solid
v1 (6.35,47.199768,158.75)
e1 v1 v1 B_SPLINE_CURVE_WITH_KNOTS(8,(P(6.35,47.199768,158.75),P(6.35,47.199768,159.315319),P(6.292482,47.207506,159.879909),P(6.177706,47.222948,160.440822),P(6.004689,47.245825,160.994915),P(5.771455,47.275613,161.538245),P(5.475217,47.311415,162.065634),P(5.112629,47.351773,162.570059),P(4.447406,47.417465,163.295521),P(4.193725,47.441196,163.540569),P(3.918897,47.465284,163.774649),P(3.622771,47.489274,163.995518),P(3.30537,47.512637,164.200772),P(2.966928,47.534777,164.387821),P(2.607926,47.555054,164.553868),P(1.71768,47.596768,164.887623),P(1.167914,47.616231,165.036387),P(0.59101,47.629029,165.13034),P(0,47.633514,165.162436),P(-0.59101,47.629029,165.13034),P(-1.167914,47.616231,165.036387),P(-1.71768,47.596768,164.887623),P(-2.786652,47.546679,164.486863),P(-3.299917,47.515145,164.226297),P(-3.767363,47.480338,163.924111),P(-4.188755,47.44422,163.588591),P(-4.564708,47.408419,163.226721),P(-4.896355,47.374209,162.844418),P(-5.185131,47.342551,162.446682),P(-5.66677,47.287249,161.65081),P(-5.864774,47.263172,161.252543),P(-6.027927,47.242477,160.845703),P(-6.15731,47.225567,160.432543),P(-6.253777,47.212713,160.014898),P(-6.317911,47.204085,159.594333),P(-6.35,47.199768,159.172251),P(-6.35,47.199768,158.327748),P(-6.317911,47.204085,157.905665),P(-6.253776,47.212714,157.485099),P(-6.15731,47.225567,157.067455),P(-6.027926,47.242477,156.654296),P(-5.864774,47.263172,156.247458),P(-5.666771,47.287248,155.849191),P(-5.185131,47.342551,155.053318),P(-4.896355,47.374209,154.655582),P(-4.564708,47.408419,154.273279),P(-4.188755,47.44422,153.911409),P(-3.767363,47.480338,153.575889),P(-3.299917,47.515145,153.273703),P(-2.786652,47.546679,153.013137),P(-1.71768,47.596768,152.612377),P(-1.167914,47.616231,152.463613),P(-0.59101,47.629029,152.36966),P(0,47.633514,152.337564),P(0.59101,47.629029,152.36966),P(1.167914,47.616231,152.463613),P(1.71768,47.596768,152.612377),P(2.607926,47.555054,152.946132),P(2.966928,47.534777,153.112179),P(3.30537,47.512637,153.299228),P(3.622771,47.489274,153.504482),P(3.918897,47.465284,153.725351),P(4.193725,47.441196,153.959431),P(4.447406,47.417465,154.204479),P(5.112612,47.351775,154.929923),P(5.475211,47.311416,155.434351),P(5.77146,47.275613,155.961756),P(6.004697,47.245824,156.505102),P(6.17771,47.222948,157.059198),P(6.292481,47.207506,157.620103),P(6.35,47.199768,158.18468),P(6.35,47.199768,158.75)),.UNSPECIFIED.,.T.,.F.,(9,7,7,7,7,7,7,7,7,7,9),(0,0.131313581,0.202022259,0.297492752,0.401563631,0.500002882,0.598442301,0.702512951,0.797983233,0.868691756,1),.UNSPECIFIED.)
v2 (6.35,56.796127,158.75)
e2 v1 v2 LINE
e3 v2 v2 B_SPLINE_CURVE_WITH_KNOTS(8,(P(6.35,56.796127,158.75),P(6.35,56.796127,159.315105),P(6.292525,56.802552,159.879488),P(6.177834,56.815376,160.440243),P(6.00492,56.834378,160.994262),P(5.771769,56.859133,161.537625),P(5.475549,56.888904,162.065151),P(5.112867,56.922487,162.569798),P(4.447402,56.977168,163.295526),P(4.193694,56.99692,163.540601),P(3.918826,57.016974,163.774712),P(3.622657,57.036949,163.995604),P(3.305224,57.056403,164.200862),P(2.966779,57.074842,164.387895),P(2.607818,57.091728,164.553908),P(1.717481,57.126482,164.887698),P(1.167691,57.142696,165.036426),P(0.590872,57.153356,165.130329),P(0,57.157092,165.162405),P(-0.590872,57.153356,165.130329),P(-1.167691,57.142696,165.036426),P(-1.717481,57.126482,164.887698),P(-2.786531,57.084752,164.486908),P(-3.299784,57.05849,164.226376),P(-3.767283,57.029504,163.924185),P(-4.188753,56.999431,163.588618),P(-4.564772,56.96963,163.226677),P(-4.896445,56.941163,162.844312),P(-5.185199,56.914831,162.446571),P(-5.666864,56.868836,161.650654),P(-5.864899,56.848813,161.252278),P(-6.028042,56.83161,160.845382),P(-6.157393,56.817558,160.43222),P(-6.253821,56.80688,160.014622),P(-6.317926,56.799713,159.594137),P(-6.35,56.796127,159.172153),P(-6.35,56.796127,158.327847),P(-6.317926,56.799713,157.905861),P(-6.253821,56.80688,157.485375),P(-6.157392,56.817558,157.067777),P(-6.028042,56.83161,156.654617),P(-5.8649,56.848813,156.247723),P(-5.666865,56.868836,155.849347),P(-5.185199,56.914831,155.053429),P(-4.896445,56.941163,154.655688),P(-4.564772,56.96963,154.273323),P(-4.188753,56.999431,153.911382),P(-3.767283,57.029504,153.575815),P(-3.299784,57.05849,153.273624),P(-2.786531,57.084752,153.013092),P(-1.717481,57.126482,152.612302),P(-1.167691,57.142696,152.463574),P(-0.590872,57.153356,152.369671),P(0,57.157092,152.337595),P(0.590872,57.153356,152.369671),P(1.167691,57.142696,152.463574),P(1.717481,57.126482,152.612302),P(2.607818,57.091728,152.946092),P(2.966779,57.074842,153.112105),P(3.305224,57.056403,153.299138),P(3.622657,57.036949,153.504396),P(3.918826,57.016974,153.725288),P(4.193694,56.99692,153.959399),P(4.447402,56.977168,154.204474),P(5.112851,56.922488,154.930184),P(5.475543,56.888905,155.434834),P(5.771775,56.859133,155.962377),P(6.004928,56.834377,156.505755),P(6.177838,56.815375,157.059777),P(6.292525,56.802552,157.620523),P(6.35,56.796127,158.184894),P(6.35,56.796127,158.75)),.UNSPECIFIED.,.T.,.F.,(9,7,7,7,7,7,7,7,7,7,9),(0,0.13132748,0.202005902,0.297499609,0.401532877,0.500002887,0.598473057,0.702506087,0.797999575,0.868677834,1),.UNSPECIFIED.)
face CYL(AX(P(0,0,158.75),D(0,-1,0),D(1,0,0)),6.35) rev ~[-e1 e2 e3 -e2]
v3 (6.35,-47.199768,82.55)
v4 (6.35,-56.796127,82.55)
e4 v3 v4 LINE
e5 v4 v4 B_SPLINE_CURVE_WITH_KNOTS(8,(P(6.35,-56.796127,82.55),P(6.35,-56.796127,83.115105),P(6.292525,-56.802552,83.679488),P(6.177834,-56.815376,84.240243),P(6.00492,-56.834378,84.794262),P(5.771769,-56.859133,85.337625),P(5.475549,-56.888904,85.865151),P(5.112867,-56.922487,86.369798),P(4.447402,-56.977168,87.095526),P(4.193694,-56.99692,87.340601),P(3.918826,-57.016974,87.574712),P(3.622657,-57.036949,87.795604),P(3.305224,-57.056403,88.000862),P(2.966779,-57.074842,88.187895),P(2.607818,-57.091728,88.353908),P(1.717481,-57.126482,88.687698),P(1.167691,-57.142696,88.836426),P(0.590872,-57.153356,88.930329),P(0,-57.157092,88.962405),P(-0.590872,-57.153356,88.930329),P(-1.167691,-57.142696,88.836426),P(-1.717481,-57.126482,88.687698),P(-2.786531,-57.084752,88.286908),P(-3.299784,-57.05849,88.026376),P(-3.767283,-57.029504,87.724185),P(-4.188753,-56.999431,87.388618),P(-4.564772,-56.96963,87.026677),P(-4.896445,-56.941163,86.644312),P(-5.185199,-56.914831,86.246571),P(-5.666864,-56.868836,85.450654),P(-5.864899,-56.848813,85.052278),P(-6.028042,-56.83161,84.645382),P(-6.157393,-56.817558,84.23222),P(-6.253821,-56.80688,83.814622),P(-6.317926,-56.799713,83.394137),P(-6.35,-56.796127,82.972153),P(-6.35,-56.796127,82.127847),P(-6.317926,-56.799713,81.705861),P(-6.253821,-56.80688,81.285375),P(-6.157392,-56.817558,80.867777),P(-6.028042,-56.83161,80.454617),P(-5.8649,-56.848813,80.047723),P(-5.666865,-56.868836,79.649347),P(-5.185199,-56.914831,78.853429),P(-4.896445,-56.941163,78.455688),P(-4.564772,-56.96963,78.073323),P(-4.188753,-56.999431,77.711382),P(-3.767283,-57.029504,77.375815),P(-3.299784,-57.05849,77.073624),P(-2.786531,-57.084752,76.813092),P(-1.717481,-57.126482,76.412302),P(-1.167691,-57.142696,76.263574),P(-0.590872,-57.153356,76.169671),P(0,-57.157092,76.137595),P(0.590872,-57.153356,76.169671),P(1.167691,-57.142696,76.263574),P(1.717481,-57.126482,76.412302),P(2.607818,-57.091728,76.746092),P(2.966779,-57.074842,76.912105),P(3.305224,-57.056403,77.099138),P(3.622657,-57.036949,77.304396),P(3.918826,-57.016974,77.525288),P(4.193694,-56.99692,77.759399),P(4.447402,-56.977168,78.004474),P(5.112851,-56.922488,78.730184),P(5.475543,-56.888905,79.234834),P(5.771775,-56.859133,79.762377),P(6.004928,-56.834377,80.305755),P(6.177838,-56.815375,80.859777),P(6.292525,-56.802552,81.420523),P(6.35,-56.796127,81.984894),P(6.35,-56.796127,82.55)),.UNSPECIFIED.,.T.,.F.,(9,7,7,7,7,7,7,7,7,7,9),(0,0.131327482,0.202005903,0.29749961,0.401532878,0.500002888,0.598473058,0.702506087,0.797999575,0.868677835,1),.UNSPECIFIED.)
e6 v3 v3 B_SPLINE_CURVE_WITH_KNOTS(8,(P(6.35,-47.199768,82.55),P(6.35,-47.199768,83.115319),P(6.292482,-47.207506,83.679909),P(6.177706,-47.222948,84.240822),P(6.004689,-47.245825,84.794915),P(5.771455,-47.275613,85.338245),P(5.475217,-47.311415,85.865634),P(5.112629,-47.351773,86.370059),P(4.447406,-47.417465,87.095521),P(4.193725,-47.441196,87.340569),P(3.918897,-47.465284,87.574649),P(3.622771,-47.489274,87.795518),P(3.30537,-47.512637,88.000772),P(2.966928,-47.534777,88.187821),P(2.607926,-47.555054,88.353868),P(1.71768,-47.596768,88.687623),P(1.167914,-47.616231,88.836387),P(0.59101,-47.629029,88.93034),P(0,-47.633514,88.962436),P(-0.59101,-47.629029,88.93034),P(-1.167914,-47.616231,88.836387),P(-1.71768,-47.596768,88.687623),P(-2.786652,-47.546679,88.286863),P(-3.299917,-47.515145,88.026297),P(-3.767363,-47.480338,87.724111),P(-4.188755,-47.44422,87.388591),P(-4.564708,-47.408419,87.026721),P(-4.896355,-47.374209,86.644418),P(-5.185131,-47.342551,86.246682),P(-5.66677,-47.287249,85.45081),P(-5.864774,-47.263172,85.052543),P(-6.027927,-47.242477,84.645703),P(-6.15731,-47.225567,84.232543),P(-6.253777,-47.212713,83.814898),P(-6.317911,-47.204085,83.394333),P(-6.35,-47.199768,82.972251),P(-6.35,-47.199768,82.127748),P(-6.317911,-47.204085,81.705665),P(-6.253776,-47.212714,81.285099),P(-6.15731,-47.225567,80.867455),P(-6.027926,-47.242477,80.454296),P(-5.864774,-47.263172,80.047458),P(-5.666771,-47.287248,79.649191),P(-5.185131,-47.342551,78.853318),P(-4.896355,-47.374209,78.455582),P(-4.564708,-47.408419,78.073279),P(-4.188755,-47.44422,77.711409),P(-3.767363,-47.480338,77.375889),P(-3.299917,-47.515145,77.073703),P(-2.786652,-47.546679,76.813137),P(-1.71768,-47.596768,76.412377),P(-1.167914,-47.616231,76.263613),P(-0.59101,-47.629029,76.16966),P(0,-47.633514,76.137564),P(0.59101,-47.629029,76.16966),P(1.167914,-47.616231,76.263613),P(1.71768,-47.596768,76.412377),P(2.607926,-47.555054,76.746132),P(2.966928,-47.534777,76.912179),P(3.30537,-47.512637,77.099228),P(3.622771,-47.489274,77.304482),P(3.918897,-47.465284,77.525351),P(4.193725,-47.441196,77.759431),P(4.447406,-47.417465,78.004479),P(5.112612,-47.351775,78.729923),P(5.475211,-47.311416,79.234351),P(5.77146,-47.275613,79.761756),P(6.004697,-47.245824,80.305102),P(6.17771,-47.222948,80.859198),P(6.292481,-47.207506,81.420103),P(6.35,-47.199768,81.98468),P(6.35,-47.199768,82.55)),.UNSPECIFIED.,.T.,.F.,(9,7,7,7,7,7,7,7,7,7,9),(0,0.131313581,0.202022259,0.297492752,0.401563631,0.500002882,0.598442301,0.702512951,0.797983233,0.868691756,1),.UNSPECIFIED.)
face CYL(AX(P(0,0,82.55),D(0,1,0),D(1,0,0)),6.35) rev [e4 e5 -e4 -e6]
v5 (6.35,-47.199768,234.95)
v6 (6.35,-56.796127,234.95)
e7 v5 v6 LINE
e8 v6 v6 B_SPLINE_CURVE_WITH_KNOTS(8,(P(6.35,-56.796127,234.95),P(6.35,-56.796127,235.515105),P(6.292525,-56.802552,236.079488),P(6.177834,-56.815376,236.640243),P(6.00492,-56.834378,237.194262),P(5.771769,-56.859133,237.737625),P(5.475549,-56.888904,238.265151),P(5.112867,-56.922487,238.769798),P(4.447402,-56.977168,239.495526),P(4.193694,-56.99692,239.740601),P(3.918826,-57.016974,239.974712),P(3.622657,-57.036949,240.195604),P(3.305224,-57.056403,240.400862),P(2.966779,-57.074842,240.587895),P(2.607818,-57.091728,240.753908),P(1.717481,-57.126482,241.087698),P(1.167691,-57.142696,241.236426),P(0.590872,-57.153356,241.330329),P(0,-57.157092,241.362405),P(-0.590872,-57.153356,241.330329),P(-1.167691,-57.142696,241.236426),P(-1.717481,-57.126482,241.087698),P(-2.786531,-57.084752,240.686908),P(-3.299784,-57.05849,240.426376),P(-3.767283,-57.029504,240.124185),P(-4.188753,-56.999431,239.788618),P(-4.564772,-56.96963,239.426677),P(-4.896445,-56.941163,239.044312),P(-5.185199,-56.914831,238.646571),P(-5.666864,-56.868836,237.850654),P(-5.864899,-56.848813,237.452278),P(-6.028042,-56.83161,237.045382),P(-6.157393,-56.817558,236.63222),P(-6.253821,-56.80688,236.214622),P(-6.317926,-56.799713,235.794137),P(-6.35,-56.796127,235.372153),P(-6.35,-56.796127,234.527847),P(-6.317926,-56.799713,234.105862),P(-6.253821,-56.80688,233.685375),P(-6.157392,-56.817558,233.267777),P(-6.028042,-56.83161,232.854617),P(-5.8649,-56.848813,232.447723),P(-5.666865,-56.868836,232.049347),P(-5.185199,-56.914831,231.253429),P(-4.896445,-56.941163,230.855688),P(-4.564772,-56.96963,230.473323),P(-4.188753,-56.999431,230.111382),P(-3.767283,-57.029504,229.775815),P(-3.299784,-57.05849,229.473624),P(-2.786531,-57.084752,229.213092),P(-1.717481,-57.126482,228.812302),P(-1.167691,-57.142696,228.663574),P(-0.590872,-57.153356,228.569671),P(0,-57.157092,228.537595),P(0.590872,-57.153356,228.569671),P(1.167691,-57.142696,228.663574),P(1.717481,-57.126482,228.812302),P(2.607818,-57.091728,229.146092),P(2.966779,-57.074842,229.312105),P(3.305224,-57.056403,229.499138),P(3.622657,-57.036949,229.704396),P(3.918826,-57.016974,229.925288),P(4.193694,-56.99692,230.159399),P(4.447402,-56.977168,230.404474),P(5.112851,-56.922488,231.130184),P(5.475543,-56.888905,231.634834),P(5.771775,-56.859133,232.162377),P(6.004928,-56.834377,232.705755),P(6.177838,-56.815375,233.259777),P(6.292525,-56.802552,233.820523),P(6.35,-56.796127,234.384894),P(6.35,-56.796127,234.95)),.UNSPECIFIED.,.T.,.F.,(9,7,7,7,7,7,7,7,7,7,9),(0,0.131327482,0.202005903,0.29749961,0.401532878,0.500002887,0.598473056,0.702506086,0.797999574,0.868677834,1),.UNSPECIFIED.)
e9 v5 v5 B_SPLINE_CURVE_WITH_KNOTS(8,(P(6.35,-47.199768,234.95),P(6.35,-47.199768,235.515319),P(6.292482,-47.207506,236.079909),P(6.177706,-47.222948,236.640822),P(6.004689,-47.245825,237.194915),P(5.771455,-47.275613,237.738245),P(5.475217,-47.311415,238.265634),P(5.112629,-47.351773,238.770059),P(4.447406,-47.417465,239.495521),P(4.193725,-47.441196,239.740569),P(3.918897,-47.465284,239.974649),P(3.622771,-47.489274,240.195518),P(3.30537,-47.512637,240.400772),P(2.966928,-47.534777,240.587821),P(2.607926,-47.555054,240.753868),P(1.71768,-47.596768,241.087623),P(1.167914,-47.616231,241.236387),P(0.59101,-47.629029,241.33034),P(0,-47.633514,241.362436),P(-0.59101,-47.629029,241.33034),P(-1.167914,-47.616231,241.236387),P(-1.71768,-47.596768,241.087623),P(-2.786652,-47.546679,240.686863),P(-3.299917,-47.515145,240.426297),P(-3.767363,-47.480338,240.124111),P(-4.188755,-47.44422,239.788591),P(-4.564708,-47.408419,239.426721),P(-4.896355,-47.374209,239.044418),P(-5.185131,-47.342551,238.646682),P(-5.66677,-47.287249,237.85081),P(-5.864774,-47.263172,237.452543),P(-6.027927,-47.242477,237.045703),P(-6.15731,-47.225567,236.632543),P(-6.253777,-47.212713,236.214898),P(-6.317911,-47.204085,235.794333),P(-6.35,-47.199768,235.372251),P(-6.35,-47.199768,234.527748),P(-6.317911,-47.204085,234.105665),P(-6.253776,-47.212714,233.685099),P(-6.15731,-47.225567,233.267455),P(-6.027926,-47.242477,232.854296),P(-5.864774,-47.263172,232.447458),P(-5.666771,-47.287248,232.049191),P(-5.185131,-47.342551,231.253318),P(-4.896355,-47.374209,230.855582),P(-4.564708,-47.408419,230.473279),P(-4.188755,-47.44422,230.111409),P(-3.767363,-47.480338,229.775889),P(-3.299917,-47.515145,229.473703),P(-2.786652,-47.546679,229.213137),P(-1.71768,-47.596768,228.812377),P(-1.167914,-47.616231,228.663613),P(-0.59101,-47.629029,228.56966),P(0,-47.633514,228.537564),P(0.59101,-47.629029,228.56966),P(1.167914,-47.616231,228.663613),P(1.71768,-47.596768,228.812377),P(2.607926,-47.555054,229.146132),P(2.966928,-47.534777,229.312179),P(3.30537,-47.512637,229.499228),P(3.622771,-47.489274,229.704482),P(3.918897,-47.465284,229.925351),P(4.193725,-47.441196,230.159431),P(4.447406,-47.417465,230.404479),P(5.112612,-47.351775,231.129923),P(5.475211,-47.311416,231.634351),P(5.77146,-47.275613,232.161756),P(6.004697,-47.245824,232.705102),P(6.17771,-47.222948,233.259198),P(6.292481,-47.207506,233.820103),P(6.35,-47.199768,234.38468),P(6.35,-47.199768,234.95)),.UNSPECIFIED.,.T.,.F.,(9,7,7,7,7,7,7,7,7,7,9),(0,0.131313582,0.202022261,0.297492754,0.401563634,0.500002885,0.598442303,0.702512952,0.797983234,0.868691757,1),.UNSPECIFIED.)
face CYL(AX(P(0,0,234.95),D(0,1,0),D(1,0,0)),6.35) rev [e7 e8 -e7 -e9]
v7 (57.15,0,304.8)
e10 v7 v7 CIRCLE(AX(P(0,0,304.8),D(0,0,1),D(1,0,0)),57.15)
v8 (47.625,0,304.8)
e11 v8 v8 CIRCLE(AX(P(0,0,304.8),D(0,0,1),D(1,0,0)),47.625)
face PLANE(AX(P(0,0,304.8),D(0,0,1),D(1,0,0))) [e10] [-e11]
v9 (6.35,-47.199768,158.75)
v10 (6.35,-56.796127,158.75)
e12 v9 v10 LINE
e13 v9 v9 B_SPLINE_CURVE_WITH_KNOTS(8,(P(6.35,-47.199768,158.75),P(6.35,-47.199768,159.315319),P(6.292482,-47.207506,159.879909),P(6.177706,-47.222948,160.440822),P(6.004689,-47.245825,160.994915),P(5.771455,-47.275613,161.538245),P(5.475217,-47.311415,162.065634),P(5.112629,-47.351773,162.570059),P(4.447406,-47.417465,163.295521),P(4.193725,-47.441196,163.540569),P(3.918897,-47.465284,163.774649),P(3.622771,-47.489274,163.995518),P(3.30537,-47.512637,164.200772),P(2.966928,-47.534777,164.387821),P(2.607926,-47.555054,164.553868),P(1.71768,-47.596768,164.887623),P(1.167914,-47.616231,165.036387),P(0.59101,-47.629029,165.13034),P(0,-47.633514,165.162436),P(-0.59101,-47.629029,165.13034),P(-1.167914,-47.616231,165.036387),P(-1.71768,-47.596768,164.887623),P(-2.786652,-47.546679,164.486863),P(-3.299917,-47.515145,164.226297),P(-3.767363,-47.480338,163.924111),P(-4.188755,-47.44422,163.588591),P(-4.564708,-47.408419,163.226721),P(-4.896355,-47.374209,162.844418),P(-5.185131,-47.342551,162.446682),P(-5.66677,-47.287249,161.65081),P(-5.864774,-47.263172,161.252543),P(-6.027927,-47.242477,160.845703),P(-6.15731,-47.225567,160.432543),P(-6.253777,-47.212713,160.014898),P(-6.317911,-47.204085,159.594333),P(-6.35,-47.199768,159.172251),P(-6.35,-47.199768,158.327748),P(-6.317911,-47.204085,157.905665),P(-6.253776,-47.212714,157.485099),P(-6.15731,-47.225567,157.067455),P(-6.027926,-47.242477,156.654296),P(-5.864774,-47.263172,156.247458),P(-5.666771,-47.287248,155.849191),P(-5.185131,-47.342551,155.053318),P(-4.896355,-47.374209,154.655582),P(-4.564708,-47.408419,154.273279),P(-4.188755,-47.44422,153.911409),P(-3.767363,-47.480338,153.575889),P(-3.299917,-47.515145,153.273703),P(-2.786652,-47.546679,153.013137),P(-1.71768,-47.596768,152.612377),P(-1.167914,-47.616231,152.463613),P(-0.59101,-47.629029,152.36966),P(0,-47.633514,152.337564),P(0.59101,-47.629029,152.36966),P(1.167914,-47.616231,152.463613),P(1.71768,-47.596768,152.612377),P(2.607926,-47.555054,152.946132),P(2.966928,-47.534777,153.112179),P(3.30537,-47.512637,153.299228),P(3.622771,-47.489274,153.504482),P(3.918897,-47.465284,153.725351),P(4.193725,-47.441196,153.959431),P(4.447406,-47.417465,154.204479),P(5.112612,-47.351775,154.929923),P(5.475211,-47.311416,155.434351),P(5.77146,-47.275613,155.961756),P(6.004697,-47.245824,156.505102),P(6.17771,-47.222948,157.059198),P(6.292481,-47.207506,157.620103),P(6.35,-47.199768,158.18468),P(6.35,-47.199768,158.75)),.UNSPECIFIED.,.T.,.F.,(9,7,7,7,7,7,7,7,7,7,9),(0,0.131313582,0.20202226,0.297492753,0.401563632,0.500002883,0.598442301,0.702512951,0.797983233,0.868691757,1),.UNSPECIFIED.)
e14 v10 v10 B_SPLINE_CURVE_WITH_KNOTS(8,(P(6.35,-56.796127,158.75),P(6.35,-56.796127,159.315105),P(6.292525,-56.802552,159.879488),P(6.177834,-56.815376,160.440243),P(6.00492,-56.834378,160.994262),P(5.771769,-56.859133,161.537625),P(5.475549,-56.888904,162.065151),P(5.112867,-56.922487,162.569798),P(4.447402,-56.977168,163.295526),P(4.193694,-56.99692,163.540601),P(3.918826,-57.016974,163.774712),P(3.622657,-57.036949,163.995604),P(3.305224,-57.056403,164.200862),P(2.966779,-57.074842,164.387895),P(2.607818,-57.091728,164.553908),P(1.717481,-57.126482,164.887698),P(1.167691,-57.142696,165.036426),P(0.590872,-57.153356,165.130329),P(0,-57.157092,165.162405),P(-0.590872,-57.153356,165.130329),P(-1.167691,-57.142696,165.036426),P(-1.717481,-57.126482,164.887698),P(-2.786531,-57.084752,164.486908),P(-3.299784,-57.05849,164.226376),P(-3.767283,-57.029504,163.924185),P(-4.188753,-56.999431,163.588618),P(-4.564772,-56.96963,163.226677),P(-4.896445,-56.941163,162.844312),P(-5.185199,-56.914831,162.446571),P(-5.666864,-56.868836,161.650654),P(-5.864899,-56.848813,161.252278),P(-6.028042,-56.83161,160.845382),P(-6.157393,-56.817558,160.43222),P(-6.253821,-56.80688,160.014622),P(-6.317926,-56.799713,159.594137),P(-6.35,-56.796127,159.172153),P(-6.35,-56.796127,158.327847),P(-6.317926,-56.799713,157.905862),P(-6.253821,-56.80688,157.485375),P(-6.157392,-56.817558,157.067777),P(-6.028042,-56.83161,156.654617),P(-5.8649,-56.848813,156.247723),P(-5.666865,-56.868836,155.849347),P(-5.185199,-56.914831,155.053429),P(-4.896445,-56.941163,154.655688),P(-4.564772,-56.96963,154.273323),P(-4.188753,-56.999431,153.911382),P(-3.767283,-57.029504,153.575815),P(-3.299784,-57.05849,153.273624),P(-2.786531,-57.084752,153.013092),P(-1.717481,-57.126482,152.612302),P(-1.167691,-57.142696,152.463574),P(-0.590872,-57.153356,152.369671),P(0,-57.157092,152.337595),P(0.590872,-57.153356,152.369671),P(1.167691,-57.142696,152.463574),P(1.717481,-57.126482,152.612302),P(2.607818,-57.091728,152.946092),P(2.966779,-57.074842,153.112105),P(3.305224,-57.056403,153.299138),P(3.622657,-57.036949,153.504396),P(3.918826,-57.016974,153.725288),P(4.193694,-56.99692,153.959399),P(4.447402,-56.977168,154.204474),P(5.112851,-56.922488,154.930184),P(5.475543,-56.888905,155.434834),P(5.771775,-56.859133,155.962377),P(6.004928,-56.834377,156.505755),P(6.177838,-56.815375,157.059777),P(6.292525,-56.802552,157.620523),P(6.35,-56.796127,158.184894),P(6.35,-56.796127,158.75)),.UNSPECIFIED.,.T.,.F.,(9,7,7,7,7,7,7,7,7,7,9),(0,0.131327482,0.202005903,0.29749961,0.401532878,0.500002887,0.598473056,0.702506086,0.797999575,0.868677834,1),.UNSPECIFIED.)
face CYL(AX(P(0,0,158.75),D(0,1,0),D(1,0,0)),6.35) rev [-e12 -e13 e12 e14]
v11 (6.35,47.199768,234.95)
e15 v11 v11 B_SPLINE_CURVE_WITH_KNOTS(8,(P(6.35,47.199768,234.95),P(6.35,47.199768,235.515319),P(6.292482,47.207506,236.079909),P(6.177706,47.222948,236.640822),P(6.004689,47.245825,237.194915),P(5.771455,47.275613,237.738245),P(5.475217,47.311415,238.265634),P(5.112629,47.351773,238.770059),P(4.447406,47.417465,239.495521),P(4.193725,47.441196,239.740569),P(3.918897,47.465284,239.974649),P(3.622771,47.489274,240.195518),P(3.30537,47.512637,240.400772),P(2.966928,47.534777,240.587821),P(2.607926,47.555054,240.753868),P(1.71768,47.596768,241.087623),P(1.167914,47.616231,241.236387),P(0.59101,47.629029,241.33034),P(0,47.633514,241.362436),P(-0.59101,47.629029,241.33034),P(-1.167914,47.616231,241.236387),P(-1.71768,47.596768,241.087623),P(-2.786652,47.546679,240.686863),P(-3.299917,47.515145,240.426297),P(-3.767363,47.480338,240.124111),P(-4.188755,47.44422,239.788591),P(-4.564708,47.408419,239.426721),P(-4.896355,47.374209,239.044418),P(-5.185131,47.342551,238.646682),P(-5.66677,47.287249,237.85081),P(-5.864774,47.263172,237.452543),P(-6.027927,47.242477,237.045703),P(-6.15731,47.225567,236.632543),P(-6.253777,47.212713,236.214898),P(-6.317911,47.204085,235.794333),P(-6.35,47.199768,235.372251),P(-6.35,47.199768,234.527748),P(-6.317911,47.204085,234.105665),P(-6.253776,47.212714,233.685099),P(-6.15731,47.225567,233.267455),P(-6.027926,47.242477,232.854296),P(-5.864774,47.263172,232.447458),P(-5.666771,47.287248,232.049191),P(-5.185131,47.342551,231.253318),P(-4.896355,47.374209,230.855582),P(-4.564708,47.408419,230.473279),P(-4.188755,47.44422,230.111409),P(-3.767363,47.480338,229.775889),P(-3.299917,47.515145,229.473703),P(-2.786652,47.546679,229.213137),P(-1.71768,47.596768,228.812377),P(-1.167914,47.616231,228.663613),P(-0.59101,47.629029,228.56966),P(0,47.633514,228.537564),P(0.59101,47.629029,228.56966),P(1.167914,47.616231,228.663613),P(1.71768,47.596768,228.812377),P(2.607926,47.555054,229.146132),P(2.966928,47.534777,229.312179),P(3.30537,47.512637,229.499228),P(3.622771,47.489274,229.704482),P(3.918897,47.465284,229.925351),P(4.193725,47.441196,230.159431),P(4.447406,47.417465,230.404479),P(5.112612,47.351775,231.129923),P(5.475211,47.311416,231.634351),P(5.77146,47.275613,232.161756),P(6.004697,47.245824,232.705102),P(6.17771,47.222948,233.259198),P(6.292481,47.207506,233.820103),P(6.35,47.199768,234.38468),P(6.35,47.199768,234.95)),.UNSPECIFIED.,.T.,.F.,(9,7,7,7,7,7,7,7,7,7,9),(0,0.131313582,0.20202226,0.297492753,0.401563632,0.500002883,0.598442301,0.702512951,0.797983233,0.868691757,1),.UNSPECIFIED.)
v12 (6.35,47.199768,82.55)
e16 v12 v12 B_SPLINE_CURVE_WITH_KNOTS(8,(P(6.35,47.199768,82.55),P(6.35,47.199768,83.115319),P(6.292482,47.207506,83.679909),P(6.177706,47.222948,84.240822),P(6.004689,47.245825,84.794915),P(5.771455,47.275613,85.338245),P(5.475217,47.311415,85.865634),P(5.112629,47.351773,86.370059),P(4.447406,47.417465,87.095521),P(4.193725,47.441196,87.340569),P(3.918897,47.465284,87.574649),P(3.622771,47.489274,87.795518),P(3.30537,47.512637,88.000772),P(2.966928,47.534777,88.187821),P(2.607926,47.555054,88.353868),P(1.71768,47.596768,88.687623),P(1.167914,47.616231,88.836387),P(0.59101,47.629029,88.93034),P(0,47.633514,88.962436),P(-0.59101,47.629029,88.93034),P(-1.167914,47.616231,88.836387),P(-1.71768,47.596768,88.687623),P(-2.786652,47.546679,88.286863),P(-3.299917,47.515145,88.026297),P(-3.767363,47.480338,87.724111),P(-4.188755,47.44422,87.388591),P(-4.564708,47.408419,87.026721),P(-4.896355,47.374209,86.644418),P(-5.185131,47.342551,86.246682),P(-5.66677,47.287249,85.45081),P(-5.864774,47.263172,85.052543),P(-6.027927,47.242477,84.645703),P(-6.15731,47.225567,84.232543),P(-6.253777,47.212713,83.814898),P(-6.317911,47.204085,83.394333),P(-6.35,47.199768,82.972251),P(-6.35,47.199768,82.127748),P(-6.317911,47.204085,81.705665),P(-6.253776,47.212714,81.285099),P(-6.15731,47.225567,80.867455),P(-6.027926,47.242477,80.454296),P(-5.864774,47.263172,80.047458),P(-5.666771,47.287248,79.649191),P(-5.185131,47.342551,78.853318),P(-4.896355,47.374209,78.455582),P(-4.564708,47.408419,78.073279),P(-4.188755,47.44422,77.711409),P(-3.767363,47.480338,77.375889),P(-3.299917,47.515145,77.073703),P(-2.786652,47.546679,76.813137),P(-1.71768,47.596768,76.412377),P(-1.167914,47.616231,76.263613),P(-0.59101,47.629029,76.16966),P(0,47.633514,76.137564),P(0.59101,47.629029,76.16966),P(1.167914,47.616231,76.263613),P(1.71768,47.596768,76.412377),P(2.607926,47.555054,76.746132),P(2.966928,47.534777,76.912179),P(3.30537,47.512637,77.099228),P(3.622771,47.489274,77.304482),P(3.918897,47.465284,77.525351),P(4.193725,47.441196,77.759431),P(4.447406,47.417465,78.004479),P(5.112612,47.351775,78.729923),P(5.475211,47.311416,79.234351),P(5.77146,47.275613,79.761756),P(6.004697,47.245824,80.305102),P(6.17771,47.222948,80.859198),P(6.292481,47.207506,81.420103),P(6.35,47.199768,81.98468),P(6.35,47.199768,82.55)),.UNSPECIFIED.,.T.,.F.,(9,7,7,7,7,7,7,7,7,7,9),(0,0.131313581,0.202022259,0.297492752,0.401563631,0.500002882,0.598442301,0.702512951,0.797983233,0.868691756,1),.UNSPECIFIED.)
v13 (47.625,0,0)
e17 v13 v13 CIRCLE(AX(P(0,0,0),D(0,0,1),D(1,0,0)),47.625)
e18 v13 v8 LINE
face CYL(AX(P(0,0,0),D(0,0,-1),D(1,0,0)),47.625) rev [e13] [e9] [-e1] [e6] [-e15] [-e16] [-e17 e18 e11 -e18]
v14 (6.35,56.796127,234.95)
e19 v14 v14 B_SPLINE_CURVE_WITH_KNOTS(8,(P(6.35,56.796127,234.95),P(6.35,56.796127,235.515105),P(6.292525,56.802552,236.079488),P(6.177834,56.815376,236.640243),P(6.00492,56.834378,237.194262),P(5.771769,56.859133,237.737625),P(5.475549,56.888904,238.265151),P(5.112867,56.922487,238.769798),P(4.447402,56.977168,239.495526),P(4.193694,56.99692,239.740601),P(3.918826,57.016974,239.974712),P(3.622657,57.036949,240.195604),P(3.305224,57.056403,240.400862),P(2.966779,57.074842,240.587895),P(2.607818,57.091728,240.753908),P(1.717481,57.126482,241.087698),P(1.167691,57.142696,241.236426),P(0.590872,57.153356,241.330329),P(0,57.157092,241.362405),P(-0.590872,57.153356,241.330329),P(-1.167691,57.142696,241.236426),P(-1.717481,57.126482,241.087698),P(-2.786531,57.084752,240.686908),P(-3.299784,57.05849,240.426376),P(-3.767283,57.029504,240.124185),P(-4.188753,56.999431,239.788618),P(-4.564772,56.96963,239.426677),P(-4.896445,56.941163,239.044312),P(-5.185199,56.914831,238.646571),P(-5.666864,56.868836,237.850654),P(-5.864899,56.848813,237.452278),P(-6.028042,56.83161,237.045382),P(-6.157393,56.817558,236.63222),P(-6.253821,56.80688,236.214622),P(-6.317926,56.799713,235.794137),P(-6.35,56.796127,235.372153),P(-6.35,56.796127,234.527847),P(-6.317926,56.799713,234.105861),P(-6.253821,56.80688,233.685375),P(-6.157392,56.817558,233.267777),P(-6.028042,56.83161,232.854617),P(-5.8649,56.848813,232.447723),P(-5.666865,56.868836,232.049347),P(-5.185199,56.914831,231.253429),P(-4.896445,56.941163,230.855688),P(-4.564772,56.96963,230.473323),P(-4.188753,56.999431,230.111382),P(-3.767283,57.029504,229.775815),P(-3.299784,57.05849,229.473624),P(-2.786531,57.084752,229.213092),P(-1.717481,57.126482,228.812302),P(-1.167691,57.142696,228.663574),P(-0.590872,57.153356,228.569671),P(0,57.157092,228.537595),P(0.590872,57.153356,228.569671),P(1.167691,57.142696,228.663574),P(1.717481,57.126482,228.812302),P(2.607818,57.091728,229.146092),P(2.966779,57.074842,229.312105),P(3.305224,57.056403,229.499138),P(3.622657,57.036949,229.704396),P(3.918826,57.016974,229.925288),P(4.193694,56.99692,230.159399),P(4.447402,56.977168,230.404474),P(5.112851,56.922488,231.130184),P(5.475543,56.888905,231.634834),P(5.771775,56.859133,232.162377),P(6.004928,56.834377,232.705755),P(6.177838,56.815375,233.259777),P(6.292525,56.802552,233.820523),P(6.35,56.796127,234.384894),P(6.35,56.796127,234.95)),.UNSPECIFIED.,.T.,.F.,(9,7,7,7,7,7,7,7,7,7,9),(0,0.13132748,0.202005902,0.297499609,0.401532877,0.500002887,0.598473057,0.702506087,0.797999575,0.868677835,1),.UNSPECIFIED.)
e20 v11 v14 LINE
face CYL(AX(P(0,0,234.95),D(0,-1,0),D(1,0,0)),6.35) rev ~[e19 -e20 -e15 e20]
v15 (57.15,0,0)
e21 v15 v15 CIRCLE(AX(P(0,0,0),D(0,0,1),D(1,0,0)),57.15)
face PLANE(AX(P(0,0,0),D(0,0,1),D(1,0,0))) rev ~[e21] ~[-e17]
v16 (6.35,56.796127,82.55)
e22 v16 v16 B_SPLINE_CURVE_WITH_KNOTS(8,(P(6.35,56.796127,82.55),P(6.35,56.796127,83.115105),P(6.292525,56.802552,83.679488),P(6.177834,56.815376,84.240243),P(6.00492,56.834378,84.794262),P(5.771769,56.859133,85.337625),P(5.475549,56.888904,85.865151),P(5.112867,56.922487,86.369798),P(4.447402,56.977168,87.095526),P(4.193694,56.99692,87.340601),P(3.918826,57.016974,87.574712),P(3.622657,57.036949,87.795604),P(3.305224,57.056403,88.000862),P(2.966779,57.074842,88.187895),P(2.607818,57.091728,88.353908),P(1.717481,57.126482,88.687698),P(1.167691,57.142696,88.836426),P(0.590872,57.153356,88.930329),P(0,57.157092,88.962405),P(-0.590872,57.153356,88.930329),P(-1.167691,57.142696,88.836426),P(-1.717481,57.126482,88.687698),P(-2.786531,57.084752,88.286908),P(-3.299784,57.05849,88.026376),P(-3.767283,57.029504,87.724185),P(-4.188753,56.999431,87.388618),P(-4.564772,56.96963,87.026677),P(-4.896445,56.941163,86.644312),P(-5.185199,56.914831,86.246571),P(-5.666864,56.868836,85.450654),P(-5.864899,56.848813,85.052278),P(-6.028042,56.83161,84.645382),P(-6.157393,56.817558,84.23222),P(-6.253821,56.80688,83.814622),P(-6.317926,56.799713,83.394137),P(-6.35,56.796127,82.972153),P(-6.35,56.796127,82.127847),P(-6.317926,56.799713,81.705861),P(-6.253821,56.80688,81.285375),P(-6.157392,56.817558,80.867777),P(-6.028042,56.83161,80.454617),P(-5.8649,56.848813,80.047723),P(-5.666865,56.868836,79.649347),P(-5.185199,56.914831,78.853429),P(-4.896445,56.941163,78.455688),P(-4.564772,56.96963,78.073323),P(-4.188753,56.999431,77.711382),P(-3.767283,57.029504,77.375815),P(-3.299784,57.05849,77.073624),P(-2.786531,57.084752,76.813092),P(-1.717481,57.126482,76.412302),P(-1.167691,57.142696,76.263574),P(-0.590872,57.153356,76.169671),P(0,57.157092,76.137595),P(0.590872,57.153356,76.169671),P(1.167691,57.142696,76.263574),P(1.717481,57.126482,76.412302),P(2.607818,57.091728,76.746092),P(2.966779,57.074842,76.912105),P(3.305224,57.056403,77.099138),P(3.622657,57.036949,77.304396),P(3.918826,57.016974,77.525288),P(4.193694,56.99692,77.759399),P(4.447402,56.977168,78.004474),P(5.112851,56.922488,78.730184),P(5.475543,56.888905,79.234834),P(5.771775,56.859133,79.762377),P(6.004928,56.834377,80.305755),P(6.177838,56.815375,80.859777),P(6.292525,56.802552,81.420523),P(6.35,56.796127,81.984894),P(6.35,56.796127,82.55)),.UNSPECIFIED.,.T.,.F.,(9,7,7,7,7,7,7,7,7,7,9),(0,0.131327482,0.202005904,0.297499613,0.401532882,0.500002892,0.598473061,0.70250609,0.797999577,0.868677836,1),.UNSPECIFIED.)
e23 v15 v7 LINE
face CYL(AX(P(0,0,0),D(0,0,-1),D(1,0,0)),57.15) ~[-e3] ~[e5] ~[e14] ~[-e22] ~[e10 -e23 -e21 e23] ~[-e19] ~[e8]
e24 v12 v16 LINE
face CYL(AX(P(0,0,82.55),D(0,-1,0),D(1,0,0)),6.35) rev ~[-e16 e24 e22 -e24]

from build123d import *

# Parameters (mm, degrees)
F0_R     = 57.15
F0_R_2   = 47.625
F1_DEPTH = 304.8
F2_R     = 6.35
F3_DEPTH = 57.151
F4_DEPTH = 57.151


with BuildPart() as f1:
    # F0 (on Top) → F1 (new body)
    with BuildSketch(Plane.XY):
        Circle(F0_R)
        Circle(F0_R_2, mode=Mode.SUBTRACT)
    extrude(amount=F1_DEPTH)

    # F2 (on Front) → F3 (cut, through all)
    with BuildSketch(Plane.XZ):
        with Locations((0, 82.55)):
            Circle(F2_R)
        with Locations((0, 158.75)):
            Circle(F2_R)
        with Locations((0, 234.95)):
            Circle(F2_R)
    extrude(amount=-F3_DEPTH, mode=Mode.SUBTRACT)

    # F2 (on Front) → F4 (cut, through all)
    with BuildSketch(Plane.XZ):
        with Locations((0, 82.55)):
            Circle(F2_R)
        with Locations((0, 158.75)):
            Circle(F2_R)
        with Locations((0, 234.95)):
            Circle(F2_R)
    extrude(amount=F4_DEPTH, mode=Mode.SUBTRACT)


solid = f1.part
